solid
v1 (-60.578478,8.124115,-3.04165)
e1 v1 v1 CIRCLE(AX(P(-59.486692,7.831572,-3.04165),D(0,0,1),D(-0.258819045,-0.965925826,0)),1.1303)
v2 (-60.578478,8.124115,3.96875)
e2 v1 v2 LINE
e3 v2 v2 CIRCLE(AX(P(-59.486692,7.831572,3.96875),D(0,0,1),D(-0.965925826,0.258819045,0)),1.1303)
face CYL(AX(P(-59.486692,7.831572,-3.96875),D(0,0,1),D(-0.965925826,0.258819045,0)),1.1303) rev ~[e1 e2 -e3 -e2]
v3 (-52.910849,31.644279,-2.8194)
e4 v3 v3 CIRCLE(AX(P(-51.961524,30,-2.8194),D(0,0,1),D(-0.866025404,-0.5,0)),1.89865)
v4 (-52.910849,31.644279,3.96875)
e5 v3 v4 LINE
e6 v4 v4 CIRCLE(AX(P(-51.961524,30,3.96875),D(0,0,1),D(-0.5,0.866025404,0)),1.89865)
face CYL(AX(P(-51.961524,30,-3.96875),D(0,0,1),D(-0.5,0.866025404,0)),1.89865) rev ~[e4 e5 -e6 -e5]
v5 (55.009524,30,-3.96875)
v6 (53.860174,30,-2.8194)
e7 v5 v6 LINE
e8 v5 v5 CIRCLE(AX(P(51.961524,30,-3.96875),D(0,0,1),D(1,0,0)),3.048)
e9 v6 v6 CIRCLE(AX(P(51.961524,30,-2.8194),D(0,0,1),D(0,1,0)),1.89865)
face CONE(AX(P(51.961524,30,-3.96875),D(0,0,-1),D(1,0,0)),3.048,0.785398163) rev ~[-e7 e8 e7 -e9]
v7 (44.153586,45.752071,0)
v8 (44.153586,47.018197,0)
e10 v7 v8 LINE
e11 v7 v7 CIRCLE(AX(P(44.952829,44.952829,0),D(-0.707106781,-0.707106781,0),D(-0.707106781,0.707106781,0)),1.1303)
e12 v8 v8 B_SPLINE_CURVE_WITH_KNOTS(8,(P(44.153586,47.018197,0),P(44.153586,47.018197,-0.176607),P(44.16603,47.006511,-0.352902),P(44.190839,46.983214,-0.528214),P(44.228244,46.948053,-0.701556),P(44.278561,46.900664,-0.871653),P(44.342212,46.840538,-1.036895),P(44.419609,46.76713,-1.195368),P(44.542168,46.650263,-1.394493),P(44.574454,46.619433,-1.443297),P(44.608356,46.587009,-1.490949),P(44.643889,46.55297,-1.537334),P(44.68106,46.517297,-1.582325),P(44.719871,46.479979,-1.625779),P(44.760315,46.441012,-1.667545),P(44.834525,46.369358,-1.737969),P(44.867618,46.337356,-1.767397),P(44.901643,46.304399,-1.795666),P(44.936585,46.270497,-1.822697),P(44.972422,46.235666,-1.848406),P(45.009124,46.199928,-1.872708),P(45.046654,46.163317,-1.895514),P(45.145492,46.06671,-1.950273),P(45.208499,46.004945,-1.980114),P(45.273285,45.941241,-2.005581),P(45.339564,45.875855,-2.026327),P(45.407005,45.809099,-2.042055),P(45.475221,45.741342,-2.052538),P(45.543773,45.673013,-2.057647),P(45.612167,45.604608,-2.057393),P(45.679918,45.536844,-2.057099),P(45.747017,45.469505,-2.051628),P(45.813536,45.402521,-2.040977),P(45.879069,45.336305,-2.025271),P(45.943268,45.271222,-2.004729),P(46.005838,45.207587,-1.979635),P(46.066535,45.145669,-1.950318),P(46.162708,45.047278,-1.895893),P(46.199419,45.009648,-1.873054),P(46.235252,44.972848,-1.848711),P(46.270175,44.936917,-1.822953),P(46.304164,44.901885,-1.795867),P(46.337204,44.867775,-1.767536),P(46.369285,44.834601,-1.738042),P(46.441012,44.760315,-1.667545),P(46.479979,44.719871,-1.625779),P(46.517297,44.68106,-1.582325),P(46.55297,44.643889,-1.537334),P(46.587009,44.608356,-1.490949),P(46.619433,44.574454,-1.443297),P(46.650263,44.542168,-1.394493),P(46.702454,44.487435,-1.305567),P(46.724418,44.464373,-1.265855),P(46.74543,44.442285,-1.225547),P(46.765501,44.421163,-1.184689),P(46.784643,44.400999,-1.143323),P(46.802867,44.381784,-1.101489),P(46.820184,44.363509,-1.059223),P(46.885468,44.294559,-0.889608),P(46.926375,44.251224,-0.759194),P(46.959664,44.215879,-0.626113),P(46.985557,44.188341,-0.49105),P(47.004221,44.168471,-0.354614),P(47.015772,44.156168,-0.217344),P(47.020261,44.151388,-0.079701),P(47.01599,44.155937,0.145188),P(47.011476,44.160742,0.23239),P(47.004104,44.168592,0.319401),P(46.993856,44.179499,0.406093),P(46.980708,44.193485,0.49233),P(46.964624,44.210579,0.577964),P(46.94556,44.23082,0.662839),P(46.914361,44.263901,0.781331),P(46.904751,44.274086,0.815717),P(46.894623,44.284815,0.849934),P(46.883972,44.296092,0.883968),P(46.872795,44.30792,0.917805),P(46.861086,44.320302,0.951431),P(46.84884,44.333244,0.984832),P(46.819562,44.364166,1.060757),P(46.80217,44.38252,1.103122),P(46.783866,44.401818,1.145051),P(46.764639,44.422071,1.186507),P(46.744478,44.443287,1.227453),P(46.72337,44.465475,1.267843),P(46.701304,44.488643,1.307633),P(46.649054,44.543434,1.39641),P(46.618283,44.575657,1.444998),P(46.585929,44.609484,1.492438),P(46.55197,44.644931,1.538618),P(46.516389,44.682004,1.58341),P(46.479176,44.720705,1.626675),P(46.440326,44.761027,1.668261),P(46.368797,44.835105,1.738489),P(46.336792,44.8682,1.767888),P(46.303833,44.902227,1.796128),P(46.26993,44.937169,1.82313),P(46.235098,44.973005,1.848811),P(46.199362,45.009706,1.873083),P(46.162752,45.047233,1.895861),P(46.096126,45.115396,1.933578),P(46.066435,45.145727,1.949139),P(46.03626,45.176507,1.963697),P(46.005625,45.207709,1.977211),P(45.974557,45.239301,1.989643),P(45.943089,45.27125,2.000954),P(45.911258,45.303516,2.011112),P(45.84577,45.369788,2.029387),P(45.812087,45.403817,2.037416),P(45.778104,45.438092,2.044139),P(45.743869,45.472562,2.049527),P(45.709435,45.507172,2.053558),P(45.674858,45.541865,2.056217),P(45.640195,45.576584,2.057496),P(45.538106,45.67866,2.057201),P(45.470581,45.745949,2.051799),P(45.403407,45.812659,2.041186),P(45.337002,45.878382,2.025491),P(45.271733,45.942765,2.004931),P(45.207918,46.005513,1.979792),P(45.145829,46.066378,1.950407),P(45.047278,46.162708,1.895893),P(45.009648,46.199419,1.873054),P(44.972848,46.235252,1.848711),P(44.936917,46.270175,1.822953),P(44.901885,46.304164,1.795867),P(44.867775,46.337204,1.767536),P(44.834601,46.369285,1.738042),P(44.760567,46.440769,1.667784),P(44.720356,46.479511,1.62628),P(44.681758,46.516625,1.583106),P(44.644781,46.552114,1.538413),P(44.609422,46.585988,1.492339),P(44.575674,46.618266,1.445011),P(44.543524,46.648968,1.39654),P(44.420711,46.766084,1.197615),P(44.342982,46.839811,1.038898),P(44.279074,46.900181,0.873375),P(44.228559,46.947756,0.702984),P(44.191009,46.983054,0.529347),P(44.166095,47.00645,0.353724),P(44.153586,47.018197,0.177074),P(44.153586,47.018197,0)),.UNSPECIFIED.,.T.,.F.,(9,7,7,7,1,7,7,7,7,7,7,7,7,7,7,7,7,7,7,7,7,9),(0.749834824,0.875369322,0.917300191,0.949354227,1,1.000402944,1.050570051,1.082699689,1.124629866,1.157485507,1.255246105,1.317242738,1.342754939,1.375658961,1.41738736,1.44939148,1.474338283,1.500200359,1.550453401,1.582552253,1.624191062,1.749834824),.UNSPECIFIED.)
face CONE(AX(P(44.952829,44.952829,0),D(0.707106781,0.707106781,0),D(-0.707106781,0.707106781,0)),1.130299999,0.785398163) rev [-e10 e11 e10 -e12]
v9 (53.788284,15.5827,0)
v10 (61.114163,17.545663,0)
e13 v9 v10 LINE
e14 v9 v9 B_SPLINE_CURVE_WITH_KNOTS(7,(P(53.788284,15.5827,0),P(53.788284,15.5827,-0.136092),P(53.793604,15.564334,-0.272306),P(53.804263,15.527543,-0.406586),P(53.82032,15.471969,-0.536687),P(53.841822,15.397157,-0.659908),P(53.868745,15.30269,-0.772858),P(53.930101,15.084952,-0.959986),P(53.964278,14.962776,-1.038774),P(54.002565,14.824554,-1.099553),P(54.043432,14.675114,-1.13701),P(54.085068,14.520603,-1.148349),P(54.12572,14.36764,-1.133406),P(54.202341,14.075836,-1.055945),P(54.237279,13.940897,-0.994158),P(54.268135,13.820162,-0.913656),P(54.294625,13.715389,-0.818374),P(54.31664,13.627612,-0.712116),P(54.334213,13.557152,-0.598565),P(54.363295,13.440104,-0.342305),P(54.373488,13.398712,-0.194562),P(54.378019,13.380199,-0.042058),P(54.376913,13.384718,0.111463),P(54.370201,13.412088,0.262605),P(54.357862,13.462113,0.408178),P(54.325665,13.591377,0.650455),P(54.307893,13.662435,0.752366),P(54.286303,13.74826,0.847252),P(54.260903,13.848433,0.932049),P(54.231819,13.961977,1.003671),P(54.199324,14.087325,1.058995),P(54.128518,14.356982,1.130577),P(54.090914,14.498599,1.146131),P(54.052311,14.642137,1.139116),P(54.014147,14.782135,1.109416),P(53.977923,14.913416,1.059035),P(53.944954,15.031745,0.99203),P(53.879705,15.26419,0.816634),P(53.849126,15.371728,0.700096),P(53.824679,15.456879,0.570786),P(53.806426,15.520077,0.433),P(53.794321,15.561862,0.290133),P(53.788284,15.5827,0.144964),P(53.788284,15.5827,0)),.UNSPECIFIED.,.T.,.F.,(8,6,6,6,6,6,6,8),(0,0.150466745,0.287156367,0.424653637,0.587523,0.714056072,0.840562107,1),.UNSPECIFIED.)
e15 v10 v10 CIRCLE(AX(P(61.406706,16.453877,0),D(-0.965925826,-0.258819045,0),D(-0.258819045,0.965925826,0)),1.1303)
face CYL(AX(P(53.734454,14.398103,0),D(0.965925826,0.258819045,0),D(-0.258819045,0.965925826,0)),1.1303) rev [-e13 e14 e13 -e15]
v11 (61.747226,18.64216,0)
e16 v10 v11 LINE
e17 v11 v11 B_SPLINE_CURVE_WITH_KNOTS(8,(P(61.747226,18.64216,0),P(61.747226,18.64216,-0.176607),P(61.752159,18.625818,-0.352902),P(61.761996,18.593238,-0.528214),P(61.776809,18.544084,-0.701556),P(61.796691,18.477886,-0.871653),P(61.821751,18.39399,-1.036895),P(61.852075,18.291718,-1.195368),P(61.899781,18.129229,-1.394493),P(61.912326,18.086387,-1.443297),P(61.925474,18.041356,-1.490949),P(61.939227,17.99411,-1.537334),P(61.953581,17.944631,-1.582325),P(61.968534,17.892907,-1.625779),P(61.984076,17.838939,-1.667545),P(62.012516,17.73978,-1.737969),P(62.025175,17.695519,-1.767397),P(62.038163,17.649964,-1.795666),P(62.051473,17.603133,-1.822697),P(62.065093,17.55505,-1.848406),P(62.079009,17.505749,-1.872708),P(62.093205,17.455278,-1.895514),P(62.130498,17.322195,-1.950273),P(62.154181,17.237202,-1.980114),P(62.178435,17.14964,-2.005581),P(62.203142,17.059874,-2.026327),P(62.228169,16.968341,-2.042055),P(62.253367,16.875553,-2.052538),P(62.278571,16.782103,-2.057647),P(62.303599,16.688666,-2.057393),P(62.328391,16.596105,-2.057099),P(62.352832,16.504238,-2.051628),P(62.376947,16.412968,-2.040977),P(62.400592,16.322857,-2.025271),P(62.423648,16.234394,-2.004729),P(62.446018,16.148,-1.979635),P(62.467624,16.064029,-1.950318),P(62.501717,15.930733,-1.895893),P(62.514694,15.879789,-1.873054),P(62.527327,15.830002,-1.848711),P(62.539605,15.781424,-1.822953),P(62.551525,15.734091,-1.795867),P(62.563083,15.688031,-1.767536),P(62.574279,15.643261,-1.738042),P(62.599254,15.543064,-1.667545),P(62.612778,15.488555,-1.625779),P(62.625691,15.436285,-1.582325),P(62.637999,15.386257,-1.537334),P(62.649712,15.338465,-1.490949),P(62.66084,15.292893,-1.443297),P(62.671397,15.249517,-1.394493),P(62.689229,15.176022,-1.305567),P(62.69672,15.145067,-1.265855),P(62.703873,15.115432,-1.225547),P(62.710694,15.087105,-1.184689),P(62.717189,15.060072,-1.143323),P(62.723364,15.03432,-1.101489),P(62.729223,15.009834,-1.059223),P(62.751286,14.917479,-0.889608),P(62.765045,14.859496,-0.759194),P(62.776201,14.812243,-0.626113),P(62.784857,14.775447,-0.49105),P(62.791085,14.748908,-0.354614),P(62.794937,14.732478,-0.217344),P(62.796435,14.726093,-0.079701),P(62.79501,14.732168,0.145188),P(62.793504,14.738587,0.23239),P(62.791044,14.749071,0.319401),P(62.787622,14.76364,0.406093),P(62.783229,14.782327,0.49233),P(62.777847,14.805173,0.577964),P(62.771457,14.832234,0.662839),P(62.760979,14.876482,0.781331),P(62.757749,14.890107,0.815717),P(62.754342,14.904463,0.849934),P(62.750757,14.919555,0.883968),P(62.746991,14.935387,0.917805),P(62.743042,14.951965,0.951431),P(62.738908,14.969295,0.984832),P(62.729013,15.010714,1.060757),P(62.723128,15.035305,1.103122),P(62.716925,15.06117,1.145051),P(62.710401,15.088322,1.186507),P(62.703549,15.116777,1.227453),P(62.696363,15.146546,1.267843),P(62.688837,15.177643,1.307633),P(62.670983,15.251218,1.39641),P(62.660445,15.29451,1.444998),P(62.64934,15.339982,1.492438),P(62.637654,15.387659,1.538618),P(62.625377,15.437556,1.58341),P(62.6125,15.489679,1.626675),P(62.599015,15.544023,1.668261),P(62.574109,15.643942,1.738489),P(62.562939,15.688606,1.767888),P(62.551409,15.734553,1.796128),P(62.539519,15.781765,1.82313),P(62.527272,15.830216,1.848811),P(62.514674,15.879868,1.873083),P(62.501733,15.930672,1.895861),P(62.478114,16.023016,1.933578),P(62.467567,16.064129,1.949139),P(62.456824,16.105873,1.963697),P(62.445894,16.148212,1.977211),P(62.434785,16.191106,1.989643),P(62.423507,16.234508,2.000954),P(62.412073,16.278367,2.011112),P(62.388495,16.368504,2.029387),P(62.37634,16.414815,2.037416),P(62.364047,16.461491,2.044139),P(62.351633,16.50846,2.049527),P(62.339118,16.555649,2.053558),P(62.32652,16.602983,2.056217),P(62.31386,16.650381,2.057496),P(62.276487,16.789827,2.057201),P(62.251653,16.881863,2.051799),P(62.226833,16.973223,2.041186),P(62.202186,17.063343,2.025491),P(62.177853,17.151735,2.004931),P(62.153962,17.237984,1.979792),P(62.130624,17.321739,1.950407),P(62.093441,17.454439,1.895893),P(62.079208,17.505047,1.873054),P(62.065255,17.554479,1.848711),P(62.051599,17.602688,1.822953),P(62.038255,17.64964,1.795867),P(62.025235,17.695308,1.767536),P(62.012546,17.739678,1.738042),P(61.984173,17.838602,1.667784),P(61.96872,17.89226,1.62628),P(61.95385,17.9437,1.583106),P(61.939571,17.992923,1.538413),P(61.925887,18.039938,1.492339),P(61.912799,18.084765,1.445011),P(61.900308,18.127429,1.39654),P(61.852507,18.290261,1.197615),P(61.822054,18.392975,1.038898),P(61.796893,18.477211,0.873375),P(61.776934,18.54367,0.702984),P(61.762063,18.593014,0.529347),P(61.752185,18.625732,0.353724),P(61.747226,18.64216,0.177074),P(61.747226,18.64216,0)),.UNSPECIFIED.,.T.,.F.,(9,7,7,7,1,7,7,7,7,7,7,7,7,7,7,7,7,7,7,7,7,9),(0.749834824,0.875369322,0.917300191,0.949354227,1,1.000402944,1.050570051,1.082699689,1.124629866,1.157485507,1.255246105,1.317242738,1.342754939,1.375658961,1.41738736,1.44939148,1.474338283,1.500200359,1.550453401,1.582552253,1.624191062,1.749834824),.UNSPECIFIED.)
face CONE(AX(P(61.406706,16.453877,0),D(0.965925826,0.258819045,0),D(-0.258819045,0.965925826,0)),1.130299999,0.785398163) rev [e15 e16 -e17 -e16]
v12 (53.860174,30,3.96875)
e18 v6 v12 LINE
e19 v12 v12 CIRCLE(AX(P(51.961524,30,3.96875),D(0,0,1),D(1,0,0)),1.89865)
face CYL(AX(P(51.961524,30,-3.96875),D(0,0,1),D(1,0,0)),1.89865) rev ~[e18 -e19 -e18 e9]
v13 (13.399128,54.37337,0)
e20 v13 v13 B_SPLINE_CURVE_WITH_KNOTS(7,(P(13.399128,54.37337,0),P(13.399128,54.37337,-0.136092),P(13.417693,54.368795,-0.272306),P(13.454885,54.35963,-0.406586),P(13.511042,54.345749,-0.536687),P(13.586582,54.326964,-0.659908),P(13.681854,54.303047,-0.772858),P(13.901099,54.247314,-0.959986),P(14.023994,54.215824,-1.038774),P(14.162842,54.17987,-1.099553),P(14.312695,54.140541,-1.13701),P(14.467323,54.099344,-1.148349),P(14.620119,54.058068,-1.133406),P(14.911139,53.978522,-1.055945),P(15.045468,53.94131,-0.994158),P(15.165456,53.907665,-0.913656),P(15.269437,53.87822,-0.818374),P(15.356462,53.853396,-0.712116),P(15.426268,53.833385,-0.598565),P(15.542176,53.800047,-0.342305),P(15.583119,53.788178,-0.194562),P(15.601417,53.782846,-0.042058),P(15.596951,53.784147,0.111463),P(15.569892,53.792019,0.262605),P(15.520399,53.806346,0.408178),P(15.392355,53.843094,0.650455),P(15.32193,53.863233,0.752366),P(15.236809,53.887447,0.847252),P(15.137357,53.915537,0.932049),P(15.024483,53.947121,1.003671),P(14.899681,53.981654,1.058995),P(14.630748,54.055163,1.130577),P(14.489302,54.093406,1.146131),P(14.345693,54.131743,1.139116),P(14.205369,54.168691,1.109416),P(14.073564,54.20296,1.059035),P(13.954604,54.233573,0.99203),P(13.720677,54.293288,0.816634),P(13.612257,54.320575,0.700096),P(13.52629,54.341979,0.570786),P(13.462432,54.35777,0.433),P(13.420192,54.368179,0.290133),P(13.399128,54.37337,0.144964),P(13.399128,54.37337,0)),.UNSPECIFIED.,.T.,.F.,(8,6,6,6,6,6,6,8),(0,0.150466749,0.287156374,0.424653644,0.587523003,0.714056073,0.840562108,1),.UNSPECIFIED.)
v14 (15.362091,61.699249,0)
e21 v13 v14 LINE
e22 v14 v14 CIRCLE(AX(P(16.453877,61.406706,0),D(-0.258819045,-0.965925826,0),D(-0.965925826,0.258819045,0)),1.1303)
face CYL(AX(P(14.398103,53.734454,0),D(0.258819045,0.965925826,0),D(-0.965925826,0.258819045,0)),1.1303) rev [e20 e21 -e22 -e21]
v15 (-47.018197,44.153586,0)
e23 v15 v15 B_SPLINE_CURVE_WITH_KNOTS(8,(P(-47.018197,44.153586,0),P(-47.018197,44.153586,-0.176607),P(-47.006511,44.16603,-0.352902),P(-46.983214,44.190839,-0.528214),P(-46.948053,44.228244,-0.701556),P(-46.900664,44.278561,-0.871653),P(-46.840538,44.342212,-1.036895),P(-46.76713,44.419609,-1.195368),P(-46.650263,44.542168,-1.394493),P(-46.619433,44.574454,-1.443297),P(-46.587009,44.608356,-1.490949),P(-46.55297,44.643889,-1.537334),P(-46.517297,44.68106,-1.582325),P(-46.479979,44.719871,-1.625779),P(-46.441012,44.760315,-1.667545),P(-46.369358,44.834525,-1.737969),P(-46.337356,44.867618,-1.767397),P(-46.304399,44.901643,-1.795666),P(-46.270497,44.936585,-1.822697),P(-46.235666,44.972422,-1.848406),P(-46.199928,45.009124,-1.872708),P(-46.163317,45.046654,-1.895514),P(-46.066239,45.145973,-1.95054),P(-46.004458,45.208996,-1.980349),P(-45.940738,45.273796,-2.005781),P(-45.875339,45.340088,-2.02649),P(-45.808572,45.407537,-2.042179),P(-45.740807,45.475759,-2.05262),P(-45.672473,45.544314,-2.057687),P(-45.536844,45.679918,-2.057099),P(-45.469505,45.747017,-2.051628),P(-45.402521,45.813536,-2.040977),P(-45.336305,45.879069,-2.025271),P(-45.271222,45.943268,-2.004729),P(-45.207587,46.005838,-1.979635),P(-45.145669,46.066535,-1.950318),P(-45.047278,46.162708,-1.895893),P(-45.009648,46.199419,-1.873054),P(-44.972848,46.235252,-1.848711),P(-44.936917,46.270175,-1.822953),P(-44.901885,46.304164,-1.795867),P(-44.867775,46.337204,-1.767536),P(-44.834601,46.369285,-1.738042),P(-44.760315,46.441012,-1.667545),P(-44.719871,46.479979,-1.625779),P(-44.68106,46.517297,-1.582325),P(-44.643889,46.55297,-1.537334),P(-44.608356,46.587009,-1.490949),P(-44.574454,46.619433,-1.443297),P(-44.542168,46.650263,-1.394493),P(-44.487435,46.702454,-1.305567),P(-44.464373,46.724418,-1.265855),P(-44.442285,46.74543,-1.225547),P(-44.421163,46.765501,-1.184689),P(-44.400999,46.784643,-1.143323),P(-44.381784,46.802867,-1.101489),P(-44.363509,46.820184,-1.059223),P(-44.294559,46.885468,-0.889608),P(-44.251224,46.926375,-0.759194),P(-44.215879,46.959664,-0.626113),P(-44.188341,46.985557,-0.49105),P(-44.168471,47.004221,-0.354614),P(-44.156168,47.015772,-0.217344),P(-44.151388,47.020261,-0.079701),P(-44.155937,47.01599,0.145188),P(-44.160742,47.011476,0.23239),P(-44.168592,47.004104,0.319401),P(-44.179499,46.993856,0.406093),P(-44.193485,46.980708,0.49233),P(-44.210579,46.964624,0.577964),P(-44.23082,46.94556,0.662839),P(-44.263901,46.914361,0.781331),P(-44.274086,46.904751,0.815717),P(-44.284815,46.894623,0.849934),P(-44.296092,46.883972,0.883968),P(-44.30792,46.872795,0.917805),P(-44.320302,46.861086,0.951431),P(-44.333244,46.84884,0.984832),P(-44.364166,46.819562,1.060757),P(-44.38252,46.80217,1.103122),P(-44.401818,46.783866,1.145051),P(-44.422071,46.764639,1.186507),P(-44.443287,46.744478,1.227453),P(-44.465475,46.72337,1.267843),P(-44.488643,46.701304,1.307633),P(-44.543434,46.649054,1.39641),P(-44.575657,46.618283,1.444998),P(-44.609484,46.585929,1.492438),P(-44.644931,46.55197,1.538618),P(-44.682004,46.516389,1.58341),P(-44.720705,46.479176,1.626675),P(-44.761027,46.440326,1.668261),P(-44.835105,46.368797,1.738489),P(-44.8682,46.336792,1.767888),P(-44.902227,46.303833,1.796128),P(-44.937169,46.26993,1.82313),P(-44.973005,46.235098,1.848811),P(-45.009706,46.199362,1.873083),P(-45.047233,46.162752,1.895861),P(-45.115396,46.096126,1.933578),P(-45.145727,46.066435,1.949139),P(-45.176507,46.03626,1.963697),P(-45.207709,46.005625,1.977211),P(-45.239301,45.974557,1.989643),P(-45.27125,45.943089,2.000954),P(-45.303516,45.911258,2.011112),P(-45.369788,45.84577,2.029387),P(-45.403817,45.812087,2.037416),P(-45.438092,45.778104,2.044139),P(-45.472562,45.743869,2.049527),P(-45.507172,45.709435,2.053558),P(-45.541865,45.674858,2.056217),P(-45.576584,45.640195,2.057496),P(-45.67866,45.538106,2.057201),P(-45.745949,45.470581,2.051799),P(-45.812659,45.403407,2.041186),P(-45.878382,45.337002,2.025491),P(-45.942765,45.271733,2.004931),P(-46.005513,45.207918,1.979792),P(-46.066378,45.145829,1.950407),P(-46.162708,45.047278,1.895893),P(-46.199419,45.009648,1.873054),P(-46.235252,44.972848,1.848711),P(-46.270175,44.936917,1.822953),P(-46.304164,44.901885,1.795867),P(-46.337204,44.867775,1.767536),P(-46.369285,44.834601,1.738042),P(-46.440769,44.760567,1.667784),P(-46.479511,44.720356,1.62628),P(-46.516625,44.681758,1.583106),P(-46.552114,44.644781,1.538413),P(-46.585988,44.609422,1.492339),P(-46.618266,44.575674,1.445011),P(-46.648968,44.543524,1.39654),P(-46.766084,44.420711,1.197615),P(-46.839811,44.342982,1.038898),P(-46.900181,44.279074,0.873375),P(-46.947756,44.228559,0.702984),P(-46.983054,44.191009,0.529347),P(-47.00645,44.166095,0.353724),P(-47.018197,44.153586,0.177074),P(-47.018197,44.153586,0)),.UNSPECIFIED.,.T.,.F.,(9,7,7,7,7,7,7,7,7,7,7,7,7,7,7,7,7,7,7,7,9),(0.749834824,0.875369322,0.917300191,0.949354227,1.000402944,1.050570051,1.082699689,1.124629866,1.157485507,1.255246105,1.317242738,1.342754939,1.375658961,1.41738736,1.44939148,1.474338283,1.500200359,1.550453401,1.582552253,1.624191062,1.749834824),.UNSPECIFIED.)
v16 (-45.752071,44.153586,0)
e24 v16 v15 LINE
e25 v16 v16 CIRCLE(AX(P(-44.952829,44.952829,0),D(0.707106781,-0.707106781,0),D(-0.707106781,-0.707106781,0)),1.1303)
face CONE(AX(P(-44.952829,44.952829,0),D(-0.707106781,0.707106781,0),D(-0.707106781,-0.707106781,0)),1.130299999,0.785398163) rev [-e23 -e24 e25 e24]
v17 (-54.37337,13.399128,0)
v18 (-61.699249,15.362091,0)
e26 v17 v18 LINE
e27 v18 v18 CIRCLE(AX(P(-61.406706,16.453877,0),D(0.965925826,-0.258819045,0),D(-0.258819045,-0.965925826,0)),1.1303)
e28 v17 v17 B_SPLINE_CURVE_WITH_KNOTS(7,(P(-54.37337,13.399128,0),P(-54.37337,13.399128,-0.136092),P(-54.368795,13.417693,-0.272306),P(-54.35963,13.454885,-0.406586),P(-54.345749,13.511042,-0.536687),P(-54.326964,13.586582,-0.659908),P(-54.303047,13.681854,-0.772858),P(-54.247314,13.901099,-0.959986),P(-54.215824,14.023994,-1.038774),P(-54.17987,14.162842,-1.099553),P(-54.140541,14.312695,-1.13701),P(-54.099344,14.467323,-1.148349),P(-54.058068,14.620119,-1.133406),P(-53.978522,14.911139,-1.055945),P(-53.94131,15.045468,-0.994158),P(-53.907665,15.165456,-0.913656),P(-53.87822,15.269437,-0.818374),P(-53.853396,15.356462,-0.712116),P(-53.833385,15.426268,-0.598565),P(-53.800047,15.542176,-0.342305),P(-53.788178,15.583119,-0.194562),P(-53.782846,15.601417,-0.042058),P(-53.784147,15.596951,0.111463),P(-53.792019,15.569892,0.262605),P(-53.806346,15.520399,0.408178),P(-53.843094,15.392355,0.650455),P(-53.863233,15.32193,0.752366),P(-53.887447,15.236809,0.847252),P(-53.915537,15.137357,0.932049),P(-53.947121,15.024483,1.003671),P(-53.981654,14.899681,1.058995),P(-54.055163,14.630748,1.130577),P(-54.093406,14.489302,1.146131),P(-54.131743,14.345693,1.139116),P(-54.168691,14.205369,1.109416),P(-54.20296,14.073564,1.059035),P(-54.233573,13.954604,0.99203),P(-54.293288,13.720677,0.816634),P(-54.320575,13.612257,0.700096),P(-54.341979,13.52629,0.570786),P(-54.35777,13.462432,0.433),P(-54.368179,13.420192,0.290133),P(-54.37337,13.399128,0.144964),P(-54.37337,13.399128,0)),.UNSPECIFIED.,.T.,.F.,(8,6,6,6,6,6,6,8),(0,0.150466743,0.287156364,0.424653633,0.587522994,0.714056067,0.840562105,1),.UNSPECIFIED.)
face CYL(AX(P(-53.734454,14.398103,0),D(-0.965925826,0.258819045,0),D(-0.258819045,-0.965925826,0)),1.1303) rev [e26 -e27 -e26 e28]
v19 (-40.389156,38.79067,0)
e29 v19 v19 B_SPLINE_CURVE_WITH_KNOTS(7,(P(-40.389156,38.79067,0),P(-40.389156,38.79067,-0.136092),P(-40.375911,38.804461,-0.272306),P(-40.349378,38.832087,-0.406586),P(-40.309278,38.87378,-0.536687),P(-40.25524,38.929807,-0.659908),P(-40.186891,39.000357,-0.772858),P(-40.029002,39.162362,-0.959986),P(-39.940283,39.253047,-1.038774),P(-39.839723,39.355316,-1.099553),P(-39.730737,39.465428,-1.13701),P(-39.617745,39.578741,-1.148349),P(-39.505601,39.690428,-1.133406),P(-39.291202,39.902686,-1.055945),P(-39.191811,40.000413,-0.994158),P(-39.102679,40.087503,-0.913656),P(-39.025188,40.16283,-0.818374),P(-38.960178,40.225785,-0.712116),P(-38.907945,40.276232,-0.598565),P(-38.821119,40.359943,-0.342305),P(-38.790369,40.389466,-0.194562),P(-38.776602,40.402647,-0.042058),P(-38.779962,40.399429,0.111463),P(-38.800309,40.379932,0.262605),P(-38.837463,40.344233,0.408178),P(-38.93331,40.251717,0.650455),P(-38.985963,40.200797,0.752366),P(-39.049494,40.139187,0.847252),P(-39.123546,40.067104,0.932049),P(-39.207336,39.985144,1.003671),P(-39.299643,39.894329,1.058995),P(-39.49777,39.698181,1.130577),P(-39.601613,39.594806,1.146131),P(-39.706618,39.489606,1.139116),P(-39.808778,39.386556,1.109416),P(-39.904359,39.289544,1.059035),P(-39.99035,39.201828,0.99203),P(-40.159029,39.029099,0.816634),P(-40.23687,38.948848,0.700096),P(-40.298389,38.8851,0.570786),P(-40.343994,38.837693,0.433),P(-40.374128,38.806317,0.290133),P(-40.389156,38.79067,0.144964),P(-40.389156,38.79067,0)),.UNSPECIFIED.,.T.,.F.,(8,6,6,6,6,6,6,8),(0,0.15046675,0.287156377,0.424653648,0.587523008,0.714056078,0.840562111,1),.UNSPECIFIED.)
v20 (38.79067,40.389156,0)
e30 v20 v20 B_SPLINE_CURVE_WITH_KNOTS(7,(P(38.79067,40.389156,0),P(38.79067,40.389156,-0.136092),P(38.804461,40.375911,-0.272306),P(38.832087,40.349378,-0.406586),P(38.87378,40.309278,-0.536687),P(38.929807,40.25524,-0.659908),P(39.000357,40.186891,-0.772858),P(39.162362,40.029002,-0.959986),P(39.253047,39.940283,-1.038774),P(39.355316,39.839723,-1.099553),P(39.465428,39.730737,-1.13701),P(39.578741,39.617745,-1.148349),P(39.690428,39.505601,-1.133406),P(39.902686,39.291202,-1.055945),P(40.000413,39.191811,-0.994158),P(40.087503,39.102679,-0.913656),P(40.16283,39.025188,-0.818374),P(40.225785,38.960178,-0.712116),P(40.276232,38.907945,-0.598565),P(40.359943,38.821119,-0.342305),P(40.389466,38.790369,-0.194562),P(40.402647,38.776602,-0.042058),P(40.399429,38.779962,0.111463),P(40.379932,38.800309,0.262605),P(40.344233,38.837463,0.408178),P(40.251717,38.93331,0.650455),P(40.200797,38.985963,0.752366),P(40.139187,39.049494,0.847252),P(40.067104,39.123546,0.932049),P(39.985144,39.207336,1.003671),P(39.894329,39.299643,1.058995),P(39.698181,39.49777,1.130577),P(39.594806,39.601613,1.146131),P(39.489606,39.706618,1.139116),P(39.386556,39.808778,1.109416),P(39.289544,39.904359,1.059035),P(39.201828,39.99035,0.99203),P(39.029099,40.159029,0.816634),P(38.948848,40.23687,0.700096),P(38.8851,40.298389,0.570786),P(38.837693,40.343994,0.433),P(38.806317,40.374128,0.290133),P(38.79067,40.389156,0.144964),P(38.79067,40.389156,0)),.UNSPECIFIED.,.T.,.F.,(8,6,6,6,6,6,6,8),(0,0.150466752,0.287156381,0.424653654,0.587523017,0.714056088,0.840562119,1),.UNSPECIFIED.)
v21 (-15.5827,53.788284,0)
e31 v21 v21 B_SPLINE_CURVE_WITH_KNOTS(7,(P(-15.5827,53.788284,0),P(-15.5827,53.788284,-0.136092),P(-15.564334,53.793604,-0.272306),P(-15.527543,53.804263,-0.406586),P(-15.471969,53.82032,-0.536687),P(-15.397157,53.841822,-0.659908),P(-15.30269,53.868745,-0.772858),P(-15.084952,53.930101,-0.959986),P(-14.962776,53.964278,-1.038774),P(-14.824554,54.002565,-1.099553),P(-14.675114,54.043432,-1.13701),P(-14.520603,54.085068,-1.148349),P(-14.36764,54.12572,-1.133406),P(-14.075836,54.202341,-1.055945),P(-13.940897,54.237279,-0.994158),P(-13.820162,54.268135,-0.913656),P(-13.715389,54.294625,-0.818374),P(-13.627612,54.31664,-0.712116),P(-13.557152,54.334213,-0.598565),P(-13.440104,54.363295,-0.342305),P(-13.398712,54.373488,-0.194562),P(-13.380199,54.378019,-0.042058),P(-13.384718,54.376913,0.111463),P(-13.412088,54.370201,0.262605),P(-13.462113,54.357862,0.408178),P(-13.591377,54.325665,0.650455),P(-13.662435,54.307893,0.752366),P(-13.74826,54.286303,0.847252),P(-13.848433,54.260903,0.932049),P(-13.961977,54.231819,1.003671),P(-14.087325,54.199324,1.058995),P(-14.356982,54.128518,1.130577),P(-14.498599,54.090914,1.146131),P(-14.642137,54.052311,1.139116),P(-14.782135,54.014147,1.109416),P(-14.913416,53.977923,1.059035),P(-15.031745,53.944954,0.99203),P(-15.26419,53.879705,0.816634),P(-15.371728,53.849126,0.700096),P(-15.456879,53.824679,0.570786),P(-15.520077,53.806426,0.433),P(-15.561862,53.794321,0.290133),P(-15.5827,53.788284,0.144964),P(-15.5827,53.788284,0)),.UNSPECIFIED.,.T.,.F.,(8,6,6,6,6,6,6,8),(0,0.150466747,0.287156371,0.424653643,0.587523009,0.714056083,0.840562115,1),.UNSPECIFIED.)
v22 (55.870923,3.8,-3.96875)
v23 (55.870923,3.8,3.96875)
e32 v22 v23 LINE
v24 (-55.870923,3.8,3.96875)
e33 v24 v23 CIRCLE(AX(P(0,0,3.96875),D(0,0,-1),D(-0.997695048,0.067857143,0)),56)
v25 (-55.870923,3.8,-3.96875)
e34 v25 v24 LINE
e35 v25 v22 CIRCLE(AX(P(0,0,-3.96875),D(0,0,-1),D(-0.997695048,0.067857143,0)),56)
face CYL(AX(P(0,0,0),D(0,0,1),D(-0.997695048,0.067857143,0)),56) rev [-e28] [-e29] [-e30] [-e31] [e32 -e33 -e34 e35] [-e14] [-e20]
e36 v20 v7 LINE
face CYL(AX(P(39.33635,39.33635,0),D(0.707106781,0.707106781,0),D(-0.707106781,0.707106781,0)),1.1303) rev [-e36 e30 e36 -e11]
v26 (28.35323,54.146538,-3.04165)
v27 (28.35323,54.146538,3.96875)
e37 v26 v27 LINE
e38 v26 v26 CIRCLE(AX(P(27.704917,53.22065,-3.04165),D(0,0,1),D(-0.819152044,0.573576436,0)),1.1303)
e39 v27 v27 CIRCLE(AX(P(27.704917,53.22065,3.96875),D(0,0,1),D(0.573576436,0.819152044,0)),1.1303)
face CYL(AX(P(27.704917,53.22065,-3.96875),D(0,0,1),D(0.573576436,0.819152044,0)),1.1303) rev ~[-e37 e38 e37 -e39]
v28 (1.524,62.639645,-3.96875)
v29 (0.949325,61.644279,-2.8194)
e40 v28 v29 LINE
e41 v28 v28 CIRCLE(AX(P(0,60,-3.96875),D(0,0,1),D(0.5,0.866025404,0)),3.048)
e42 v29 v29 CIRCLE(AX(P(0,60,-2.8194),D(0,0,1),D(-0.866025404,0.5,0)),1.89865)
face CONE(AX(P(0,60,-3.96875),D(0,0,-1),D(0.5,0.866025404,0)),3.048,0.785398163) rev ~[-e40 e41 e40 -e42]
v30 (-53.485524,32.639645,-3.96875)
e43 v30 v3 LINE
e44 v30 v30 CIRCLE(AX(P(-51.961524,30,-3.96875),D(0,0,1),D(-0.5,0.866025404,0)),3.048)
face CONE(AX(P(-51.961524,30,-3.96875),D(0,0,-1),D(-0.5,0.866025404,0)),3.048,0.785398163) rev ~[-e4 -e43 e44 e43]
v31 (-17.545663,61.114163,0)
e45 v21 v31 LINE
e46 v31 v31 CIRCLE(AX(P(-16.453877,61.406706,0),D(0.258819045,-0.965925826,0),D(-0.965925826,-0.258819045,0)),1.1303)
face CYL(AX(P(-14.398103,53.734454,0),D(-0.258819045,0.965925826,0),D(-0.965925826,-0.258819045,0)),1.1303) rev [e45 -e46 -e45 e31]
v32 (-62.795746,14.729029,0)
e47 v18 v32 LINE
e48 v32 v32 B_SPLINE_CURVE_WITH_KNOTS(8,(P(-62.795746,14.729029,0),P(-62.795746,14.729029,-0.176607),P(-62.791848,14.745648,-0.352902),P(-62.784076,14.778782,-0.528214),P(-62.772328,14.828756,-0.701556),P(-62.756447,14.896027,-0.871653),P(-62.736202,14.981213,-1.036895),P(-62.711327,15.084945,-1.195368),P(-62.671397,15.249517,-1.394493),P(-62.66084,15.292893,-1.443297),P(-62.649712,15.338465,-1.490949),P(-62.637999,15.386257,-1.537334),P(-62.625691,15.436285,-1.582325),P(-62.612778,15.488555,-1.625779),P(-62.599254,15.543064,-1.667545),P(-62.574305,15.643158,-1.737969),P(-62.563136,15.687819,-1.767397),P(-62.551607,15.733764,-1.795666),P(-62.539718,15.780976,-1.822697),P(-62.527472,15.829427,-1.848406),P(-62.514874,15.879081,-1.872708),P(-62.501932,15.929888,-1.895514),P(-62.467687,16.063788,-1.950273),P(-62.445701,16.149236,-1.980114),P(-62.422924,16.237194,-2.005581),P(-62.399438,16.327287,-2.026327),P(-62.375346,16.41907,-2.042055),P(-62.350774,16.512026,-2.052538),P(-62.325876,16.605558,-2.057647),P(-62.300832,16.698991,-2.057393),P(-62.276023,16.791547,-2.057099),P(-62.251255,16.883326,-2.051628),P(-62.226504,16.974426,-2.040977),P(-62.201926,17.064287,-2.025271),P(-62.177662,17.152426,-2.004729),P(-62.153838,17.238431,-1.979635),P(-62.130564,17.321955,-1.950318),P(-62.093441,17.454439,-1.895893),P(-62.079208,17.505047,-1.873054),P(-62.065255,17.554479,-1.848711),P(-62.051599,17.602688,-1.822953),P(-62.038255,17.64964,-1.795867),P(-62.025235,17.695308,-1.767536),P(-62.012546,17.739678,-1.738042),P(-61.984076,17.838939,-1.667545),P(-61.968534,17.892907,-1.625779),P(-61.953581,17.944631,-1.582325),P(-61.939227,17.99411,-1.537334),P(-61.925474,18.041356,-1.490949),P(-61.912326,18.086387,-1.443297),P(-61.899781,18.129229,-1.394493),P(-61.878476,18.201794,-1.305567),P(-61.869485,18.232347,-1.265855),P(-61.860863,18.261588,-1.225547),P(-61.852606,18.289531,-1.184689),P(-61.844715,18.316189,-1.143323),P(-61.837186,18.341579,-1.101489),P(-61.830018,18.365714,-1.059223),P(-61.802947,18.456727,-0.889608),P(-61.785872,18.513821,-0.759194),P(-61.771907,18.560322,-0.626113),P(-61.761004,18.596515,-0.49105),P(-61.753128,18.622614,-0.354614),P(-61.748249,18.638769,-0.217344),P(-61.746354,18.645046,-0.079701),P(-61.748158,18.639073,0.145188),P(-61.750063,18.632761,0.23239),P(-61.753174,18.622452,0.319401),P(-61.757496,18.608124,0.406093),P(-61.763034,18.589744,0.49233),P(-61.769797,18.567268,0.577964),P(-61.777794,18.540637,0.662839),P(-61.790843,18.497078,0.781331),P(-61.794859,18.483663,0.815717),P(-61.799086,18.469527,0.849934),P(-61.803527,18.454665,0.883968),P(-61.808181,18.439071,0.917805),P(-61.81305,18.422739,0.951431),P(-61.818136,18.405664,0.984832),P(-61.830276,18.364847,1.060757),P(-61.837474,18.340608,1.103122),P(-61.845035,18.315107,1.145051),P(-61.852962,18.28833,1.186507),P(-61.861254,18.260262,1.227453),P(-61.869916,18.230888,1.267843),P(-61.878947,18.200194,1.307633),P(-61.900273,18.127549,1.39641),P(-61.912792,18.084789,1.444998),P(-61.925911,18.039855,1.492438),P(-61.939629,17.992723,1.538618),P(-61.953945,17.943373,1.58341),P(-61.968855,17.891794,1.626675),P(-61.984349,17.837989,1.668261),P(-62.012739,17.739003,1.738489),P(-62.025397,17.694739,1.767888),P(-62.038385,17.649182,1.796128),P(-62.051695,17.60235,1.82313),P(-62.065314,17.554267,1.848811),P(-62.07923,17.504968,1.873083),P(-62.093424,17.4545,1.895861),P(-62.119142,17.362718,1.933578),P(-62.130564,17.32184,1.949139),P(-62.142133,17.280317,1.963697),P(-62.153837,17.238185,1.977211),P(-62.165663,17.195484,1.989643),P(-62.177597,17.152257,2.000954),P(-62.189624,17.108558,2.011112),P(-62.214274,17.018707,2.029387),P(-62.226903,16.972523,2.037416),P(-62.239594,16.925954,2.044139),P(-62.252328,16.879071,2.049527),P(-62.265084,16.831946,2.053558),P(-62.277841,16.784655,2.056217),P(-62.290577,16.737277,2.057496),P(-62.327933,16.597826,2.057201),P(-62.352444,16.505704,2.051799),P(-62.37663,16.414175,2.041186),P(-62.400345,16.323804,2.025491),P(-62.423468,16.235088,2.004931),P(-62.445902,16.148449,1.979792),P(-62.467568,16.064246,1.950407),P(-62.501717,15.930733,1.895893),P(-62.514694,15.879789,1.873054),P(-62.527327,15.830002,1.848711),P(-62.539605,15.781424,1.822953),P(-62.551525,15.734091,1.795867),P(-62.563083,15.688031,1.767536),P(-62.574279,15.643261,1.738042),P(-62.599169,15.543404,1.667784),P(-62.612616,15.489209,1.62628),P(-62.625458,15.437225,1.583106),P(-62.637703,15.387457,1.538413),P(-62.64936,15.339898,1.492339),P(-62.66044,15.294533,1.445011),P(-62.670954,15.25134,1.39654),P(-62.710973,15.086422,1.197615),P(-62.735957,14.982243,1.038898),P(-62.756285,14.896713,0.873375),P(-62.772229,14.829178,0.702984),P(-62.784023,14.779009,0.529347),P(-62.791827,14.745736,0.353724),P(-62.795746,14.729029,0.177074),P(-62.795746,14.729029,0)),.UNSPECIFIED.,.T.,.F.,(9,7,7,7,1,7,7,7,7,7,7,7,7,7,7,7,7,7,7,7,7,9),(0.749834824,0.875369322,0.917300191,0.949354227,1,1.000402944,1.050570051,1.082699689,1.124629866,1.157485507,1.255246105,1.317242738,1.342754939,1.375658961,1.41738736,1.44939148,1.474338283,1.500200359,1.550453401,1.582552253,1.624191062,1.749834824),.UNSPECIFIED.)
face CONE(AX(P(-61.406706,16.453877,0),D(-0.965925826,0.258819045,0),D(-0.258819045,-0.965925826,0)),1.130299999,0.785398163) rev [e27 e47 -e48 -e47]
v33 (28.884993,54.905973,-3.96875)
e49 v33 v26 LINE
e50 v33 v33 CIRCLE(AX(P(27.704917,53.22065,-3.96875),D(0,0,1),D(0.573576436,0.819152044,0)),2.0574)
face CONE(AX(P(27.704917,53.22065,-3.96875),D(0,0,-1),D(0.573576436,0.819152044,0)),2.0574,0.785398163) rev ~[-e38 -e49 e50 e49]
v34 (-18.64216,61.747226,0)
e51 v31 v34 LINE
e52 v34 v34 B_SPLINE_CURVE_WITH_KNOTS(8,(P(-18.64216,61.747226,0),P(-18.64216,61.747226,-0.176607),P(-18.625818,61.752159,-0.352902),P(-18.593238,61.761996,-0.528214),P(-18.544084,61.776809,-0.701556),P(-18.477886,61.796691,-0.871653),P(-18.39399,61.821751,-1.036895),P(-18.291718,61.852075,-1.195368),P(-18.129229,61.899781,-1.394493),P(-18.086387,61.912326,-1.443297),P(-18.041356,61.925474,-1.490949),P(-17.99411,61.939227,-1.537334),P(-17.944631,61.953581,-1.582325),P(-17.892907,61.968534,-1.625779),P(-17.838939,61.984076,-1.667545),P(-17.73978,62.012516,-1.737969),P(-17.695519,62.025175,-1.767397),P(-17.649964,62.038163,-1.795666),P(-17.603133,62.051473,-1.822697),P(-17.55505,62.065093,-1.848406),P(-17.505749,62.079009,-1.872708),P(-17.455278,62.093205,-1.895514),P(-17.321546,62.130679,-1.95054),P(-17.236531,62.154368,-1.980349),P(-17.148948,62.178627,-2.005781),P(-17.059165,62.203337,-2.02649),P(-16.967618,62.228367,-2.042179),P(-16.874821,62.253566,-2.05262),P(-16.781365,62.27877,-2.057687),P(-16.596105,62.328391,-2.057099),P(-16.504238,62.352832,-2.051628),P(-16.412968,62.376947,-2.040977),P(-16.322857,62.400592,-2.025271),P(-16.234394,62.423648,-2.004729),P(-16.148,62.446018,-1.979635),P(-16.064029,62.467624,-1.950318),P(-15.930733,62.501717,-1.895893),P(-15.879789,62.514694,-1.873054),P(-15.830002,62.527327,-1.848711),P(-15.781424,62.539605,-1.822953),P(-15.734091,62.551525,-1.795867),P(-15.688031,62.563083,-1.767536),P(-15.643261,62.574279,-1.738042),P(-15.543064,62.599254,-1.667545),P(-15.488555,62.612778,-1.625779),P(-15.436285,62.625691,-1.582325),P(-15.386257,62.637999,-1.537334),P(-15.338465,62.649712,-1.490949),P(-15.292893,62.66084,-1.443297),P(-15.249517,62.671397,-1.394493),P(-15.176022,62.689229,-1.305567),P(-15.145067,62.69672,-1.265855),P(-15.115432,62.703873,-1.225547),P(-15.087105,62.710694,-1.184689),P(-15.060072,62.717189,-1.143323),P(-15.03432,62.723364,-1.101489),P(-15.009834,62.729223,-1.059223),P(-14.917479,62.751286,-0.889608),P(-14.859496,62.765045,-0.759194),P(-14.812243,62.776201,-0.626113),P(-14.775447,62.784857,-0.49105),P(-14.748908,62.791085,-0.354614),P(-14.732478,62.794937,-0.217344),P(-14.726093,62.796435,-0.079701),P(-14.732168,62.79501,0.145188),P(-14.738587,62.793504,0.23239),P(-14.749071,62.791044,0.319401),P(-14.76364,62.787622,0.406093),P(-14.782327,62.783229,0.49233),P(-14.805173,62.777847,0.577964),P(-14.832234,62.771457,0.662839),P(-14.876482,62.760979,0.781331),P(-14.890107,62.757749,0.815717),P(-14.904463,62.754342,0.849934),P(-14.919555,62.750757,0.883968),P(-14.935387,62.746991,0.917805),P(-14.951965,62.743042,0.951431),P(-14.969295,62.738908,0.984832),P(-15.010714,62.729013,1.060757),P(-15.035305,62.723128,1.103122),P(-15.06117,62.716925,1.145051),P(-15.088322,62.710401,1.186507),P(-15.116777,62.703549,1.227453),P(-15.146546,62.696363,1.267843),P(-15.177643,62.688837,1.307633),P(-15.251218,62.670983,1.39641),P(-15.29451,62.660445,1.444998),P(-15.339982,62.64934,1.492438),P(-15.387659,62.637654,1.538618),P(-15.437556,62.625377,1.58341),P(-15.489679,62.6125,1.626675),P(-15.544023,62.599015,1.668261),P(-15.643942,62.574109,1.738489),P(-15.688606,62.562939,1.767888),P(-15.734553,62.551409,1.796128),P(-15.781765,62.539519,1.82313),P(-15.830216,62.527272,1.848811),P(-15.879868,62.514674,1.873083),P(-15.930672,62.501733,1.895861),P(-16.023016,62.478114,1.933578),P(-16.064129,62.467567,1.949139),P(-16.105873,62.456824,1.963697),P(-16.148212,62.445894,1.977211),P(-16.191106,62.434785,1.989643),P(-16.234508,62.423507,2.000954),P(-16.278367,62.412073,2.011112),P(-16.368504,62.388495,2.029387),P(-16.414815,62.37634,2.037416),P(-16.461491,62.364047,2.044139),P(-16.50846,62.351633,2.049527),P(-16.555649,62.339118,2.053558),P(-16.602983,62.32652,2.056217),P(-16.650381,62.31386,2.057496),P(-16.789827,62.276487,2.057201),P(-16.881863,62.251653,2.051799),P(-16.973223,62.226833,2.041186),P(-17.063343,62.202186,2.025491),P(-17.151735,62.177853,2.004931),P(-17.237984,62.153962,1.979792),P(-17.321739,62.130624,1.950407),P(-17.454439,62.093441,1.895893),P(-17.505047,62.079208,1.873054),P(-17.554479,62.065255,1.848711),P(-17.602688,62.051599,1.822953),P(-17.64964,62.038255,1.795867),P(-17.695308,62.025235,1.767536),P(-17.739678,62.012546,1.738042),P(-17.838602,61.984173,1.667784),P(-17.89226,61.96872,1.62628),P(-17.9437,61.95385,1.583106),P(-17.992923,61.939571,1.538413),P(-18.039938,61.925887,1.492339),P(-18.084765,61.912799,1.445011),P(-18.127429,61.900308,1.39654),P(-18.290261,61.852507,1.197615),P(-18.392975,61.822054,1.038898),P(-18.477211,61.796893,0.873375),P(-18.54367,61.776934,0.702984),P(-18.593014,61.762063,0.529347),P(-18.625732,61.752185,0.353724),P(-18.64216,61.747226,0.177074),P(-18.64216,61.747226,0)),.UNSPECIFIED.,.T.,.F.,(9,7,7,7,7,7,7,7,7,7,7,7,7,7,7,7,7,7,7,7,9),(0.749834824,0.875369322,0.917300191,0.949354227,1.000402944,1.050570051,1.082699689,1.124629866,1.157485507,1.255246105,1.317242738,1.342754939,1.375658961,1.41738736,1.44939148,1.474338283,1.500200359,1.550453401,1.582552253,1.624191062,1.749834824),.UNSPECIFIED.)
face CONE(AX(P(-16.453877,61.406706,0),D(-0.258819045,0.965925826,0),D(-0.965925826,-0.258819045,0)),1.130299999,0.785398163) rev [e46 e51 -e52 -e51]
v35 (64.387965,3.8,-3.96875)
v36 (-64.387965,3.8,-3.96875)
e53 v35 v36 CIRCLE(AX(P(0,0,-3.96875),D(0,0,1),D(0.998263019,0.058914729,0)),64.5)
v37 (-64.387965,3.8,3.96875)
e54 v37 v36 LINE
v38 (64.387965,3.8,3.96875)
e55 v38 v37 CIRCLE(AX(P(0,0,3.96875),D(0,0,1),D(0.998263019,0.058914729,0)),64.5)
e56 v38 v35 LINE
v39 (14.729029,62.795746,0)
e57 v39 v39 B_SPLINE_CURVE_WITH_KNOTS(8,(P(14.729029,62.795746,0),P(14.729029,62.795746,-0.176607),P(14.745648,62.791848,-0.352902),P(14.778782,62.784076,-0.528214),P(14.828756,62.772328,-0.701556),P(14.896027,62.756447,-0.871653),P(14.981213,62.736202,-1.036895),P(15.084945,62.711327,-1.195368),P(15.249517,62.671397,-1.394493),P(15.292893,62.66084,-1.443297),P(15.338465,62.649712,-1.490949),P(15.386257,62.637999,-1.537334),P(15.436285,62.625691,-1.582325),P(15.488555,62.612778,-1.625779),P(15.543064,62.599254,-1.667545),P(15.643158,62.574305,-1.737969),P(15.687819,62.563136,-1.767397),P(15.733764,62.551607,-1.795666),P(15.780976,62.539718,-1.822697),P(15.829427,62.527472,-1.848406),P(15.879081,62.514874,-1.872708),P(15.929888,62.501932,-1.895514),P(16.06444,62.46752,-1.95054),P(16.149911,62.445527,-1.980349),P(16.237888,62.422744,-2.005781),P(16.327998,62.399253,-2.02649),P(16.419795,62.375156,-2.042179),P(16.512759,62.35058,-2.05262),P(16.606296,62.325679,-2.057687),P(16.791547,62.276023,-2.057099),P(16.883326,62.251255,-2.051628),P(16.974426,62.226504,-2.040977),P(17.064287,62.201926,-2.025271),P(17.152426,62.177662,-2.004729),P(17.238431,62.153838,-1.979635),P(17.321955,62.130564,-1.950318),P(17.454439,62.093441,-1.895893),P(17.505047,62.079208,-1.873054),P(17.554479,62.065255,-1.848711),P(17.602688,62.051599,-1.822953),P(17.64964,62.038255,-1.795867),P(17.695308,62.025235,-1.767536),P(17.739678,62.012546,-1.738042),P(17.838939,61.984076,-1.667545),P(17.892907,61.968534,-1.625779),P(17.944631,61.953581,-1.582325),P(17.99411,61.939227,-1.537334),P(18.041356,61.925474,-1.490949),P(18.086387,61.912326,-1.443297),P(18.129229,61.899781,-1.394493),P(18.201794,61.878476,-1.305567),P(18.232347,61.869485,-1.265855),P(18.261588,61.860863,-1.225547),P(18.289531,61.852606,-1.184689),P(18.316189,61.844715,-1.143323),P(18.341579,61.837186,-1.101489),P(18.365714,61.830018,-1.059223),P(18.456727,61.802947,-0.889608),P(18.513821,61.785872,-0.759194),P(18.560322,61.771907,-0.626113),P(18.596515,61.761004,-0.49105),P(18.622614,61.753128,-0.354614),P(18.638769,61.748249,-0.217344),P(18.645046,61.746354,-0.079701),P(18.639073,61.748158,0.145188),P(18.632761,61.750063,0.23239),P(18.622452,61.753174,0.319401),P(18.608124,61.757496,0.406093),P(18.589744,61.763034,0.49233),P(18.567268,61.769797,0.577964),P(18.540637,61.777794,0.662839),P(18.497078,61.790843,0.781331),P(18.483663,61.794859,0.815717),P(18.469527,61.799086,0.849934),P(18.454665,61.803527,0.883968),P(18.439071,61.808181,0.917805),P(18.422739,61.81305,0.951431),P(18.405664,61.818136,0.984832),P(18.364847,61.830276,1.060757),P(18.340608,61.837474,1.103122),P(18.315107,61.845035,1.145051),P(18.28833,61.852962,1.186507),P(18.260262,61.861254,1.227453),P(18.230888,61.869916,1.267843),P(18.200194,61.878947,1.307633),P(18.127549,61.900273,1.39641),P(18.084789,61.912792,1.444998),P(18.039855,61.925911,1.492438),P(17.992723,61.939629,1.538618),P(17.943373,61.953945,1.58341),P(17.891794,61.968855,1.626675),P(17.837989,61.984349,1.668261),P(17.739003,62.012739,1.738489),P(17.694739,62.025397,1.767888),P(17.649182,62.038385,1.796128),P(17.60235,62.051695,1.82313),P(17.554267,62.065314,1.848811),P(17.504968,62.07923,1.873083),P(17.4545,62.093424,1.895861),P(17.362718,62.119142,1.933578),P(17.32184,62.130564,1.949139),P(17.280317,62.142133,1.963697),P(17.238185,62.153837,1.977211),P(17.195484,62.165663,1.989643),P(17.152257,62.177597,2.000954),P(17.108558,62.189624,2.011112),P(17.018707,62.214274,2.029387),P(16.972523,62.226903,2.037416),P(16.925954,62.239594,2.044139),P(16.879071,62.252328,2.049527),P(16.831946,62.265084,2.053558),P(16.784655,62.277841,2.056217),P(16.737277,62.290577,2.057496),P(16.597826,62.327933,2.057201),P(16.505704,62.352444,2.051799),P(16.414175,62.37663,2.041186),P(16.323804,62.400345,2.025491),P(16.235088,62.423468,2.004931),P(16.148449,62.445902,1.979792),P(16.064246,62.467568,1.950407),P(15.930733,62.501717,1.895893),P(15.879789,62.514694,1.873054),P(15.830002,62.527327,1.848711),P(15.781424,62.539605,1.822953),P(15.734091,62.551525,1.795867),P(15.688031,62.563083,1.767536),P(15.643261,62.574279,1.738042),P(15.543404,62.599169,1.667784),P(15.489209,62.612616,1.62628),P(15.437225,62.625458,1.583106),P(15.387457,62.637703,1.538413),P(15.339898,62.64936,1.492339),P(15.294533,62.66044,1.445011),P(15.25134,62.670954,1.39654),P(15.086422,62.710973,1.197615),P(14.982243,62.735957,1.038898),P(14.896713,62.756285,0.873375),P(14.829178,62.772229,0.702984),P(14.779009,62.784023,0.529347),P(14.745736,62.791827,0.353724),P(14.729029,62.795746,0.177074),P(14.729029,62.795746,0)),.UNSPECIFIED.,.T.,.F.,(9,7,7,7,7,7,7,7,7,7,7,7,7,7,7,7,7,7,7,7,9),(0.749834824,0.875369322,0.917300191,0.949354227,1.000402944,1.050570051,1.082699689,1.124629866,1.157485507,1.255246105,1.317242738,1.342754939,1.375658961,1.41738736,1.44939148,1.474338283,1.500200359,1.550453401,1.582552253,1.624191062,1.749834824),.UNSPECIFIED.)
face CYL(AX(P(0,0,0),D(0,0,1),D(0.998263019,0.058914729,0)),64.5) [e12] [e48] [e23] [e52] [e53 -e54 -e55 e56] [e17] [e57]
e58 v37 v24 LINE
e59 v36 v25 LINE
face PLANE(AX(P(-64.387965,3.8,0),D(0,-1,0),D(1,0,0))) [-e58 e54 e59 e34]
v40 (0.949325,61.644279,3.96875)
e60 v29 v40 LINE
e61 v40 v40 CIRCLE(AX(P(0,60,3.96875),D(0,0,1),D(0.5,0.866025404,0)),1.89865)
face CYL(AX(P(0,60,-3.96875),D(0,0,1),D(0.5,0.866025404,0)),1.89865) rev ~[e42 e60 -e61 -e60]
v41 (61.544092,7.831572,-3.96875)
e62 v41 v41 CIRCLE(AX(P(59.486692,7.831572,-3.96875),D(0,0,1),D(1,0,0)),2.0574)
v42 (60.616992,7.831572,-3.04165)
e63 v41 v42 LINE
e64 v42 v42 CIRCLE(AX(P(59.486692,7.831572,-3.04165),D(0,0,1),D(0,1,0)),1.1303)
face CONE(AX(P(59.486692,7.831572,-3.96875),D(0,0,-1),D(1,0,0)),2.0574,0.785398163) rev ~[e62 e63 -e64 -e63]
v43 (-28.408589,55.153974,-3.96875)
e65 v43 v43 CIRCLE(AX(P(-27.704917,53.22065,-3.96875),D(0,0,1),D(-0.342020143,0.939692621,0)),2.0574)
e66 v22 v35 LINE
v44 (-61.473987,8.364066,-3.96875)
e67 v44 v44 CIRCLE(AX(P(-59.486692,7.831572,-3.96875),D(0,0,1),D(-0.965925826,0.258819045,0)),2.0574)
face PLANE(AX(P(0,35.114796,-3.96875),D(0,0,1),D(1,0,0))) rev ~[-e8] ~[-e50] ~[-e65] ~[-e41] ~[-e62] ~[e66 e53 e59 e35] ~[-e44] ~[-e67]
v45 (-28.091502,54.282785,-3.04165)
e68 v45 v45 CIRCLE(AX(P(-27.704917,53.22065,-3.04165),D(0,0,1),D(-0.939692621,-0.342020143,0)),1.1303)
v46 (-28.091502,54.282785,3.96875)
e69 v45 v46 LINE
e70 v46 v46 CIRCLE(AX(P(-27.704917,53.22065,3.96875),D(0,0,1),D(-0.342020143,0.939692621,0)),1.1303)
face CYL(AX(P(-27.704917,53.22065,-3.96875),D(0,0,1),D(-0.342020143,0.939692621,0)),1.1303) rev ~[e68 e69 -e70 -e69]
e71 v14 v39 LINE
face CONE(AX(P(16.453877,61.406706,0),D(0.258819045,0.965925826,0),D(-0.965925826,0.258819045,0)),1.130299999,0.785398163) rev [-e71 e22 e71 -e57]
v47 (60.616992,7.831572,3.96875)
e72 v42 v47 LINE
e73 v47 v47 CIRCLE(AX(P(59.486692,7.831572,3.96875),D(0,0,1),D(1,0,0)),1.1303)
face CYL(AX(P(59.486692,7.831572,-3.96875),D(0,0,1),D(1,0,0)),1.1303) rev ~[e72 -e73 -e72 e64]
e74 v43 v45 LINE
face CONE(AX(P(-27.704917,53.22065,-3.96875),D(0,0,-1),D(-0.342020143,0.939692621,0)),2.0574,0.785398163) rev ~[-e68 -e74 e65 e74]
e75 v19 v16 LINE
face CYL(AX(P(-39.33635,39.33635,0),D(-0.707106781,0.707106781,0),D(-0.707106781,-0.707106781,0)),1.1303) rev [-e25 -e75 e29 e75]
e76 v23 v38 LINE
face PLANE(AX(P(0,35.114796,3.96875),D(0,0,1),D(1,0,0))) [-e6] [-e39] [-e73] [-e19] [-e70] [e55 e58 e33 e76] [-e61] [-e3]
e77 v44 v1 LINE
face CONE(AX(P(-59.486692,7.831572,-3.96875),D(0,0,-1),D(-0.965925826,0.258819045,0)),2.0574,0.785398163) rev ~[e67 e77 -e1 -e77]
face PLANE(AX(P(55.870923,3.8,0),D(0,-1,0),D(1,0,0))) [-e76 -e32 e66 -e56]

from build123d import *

# Parameters (mm, degrees)
BOSS_EXTRUDE1_DEPTH              = 3.96875
CIRPATTERN1_COUNT                = 6
CIRPATTERN1_ANGLE                = 150
F_4_40_TAPPED_HOLE3_D            = 2.2606
F_4_40_TAPPED_HOLE3_CSINK_D      = 4.1148
F_4_40_TAPPED_HOLE3_CSINK_ANGLE  = 90
CIRPATTERN2_COUNT                = 4
CIRPATTERN2_ANGLE                = 165
F_10_24_TAPPED_HOLE1_D           = 3.7973
F_10_24_TAPPED_HOLE1_CSINK_D     = 6.096
F_10_24_TAPPED_HOLE1_CSINK_ANGLE = 90
CIRPATTERN3_COUNT                = 3
CIRPATTERN3_ANGLE                = 120


with BuildPart() as part:
    # Sketch1 → Boss-Extrude1 (new body, symmetric)
    with BuildSketch(Plane.XY):
        with BuildLine():
            Line((-64.387964714, 3.8), (-55.87092267, 3.8))
            ThreePointArc((-55.87092267, 3.8), (0, 56), (55.87092267, 3.8))
            Line((55.87092267, 3.8), (64.387964714, 3.8))
            ThreePointArc((64.387964714, 3.8), (0, 64.5), (-64.387964714, 3.8))
        make_face()
    extrude(amount=BOSS_EXTRUDE1_DEPTH, both=True)

    # Sketch3 → #4-40 Tapped Hole2 (revolve, cut)
    with BuildSketch(Plane(origin=(62.302215796, 16.693828409, 0), x_dir=(-0.258819045, 0.965925826, 0), z_dir=(0, 0, 1))):
        Polygon((0, 0), (0, 9.549152758), (1.1303, 8.87), (1.1303, 0.9271), (2.0574, 0), align=None)
    f_4_40_tapped_hole2 = revolve(axis=Axis((68.435844793, 18.337329346, 0), (-0.965925826, -0.258819045, 0)), mode=Mode.SUBTRACT)

    # CirPattern1: #4-40 Tapped Hole2 ×6 about axis
    cirpattern1_axis = Axis((0, 0, 3.96875), (0, 0, 1))
    for i in range(1, CIRPATTERN1_COUNT):
        add(f_4_40_tapped_hole2.rotate(cirpattern1_axis, i * CIRPATTERN1_ANGLE / (CIRPATTERN1_COUNT - 1)), mode=Mode.SUBTRACT)

    # #4-40 Tapped Hole3 (through all)
    with Locations(Plane(origin=(0, 0, -3.96875), x_dir=(-1, 0, 0), z_dir=(0, 0, -1))):
        with Locations((-59.486691682, 7.831571533)):
            f_4_40_tapped_hole3 = CounterSinkHole(F_4_40_TAPPED_HOLE3_D / 2, F_4_40_TAPPED_HOLE3_CSINK_D / 2, counter_sink_angle=F_4_40_TAPPED_HOLE3_CSINK_ANGLE)

    # CirPattern2: #4-40 Tapped Hole3 ×4 about axis
    cirpattern2_axis = Axis((0, 0, 0), (0, 0, 1))
    for i in range(1, CIRPATTERN2_COUNT):
        add(f_4_40_tapped_hole3.rotate(cirpattern2_axis, i * CIRPATTERN2_ANGLE / (CIRPATTERN2_COUNT - 1)), mode=Mode.SUBTRACT)

    # #10-24 Tapped Hole1 (through all)
    with Locations(Plane(origin=(0, 0, -3.96875), x_dir=(-1, 0, 0), z_dir=(0, 0, -1))):
        with Locations((-51.961524227, 30)):
            f_10_24_tapped_hole1 = CounterSinkHole(F_10_24_TAPPED_HOLE1_D / 2, F_10_24_TAPPED_HOLE1_CSINK_D / 2, counter_sink_angle=F_10_24_TAPPED_HOLE1_CSINK_ANGLE)

    # CirPattern3: #10-24 Tapped Hole1 ×3 about axis
    cirpattern3_axis = Axis((0, 0, 0), (0, 0, 1))
    for i in range(1, CIRPATTERN3_COUNT):
        add(f_10_24_tapped_hole1.rotate(cirpattern3_axis, i * CIRPATTERN3_ANGLE / (CIRPATTERN3_COUNT - 1)), mode=Mode.SUBTRACT)


solid = part.part
